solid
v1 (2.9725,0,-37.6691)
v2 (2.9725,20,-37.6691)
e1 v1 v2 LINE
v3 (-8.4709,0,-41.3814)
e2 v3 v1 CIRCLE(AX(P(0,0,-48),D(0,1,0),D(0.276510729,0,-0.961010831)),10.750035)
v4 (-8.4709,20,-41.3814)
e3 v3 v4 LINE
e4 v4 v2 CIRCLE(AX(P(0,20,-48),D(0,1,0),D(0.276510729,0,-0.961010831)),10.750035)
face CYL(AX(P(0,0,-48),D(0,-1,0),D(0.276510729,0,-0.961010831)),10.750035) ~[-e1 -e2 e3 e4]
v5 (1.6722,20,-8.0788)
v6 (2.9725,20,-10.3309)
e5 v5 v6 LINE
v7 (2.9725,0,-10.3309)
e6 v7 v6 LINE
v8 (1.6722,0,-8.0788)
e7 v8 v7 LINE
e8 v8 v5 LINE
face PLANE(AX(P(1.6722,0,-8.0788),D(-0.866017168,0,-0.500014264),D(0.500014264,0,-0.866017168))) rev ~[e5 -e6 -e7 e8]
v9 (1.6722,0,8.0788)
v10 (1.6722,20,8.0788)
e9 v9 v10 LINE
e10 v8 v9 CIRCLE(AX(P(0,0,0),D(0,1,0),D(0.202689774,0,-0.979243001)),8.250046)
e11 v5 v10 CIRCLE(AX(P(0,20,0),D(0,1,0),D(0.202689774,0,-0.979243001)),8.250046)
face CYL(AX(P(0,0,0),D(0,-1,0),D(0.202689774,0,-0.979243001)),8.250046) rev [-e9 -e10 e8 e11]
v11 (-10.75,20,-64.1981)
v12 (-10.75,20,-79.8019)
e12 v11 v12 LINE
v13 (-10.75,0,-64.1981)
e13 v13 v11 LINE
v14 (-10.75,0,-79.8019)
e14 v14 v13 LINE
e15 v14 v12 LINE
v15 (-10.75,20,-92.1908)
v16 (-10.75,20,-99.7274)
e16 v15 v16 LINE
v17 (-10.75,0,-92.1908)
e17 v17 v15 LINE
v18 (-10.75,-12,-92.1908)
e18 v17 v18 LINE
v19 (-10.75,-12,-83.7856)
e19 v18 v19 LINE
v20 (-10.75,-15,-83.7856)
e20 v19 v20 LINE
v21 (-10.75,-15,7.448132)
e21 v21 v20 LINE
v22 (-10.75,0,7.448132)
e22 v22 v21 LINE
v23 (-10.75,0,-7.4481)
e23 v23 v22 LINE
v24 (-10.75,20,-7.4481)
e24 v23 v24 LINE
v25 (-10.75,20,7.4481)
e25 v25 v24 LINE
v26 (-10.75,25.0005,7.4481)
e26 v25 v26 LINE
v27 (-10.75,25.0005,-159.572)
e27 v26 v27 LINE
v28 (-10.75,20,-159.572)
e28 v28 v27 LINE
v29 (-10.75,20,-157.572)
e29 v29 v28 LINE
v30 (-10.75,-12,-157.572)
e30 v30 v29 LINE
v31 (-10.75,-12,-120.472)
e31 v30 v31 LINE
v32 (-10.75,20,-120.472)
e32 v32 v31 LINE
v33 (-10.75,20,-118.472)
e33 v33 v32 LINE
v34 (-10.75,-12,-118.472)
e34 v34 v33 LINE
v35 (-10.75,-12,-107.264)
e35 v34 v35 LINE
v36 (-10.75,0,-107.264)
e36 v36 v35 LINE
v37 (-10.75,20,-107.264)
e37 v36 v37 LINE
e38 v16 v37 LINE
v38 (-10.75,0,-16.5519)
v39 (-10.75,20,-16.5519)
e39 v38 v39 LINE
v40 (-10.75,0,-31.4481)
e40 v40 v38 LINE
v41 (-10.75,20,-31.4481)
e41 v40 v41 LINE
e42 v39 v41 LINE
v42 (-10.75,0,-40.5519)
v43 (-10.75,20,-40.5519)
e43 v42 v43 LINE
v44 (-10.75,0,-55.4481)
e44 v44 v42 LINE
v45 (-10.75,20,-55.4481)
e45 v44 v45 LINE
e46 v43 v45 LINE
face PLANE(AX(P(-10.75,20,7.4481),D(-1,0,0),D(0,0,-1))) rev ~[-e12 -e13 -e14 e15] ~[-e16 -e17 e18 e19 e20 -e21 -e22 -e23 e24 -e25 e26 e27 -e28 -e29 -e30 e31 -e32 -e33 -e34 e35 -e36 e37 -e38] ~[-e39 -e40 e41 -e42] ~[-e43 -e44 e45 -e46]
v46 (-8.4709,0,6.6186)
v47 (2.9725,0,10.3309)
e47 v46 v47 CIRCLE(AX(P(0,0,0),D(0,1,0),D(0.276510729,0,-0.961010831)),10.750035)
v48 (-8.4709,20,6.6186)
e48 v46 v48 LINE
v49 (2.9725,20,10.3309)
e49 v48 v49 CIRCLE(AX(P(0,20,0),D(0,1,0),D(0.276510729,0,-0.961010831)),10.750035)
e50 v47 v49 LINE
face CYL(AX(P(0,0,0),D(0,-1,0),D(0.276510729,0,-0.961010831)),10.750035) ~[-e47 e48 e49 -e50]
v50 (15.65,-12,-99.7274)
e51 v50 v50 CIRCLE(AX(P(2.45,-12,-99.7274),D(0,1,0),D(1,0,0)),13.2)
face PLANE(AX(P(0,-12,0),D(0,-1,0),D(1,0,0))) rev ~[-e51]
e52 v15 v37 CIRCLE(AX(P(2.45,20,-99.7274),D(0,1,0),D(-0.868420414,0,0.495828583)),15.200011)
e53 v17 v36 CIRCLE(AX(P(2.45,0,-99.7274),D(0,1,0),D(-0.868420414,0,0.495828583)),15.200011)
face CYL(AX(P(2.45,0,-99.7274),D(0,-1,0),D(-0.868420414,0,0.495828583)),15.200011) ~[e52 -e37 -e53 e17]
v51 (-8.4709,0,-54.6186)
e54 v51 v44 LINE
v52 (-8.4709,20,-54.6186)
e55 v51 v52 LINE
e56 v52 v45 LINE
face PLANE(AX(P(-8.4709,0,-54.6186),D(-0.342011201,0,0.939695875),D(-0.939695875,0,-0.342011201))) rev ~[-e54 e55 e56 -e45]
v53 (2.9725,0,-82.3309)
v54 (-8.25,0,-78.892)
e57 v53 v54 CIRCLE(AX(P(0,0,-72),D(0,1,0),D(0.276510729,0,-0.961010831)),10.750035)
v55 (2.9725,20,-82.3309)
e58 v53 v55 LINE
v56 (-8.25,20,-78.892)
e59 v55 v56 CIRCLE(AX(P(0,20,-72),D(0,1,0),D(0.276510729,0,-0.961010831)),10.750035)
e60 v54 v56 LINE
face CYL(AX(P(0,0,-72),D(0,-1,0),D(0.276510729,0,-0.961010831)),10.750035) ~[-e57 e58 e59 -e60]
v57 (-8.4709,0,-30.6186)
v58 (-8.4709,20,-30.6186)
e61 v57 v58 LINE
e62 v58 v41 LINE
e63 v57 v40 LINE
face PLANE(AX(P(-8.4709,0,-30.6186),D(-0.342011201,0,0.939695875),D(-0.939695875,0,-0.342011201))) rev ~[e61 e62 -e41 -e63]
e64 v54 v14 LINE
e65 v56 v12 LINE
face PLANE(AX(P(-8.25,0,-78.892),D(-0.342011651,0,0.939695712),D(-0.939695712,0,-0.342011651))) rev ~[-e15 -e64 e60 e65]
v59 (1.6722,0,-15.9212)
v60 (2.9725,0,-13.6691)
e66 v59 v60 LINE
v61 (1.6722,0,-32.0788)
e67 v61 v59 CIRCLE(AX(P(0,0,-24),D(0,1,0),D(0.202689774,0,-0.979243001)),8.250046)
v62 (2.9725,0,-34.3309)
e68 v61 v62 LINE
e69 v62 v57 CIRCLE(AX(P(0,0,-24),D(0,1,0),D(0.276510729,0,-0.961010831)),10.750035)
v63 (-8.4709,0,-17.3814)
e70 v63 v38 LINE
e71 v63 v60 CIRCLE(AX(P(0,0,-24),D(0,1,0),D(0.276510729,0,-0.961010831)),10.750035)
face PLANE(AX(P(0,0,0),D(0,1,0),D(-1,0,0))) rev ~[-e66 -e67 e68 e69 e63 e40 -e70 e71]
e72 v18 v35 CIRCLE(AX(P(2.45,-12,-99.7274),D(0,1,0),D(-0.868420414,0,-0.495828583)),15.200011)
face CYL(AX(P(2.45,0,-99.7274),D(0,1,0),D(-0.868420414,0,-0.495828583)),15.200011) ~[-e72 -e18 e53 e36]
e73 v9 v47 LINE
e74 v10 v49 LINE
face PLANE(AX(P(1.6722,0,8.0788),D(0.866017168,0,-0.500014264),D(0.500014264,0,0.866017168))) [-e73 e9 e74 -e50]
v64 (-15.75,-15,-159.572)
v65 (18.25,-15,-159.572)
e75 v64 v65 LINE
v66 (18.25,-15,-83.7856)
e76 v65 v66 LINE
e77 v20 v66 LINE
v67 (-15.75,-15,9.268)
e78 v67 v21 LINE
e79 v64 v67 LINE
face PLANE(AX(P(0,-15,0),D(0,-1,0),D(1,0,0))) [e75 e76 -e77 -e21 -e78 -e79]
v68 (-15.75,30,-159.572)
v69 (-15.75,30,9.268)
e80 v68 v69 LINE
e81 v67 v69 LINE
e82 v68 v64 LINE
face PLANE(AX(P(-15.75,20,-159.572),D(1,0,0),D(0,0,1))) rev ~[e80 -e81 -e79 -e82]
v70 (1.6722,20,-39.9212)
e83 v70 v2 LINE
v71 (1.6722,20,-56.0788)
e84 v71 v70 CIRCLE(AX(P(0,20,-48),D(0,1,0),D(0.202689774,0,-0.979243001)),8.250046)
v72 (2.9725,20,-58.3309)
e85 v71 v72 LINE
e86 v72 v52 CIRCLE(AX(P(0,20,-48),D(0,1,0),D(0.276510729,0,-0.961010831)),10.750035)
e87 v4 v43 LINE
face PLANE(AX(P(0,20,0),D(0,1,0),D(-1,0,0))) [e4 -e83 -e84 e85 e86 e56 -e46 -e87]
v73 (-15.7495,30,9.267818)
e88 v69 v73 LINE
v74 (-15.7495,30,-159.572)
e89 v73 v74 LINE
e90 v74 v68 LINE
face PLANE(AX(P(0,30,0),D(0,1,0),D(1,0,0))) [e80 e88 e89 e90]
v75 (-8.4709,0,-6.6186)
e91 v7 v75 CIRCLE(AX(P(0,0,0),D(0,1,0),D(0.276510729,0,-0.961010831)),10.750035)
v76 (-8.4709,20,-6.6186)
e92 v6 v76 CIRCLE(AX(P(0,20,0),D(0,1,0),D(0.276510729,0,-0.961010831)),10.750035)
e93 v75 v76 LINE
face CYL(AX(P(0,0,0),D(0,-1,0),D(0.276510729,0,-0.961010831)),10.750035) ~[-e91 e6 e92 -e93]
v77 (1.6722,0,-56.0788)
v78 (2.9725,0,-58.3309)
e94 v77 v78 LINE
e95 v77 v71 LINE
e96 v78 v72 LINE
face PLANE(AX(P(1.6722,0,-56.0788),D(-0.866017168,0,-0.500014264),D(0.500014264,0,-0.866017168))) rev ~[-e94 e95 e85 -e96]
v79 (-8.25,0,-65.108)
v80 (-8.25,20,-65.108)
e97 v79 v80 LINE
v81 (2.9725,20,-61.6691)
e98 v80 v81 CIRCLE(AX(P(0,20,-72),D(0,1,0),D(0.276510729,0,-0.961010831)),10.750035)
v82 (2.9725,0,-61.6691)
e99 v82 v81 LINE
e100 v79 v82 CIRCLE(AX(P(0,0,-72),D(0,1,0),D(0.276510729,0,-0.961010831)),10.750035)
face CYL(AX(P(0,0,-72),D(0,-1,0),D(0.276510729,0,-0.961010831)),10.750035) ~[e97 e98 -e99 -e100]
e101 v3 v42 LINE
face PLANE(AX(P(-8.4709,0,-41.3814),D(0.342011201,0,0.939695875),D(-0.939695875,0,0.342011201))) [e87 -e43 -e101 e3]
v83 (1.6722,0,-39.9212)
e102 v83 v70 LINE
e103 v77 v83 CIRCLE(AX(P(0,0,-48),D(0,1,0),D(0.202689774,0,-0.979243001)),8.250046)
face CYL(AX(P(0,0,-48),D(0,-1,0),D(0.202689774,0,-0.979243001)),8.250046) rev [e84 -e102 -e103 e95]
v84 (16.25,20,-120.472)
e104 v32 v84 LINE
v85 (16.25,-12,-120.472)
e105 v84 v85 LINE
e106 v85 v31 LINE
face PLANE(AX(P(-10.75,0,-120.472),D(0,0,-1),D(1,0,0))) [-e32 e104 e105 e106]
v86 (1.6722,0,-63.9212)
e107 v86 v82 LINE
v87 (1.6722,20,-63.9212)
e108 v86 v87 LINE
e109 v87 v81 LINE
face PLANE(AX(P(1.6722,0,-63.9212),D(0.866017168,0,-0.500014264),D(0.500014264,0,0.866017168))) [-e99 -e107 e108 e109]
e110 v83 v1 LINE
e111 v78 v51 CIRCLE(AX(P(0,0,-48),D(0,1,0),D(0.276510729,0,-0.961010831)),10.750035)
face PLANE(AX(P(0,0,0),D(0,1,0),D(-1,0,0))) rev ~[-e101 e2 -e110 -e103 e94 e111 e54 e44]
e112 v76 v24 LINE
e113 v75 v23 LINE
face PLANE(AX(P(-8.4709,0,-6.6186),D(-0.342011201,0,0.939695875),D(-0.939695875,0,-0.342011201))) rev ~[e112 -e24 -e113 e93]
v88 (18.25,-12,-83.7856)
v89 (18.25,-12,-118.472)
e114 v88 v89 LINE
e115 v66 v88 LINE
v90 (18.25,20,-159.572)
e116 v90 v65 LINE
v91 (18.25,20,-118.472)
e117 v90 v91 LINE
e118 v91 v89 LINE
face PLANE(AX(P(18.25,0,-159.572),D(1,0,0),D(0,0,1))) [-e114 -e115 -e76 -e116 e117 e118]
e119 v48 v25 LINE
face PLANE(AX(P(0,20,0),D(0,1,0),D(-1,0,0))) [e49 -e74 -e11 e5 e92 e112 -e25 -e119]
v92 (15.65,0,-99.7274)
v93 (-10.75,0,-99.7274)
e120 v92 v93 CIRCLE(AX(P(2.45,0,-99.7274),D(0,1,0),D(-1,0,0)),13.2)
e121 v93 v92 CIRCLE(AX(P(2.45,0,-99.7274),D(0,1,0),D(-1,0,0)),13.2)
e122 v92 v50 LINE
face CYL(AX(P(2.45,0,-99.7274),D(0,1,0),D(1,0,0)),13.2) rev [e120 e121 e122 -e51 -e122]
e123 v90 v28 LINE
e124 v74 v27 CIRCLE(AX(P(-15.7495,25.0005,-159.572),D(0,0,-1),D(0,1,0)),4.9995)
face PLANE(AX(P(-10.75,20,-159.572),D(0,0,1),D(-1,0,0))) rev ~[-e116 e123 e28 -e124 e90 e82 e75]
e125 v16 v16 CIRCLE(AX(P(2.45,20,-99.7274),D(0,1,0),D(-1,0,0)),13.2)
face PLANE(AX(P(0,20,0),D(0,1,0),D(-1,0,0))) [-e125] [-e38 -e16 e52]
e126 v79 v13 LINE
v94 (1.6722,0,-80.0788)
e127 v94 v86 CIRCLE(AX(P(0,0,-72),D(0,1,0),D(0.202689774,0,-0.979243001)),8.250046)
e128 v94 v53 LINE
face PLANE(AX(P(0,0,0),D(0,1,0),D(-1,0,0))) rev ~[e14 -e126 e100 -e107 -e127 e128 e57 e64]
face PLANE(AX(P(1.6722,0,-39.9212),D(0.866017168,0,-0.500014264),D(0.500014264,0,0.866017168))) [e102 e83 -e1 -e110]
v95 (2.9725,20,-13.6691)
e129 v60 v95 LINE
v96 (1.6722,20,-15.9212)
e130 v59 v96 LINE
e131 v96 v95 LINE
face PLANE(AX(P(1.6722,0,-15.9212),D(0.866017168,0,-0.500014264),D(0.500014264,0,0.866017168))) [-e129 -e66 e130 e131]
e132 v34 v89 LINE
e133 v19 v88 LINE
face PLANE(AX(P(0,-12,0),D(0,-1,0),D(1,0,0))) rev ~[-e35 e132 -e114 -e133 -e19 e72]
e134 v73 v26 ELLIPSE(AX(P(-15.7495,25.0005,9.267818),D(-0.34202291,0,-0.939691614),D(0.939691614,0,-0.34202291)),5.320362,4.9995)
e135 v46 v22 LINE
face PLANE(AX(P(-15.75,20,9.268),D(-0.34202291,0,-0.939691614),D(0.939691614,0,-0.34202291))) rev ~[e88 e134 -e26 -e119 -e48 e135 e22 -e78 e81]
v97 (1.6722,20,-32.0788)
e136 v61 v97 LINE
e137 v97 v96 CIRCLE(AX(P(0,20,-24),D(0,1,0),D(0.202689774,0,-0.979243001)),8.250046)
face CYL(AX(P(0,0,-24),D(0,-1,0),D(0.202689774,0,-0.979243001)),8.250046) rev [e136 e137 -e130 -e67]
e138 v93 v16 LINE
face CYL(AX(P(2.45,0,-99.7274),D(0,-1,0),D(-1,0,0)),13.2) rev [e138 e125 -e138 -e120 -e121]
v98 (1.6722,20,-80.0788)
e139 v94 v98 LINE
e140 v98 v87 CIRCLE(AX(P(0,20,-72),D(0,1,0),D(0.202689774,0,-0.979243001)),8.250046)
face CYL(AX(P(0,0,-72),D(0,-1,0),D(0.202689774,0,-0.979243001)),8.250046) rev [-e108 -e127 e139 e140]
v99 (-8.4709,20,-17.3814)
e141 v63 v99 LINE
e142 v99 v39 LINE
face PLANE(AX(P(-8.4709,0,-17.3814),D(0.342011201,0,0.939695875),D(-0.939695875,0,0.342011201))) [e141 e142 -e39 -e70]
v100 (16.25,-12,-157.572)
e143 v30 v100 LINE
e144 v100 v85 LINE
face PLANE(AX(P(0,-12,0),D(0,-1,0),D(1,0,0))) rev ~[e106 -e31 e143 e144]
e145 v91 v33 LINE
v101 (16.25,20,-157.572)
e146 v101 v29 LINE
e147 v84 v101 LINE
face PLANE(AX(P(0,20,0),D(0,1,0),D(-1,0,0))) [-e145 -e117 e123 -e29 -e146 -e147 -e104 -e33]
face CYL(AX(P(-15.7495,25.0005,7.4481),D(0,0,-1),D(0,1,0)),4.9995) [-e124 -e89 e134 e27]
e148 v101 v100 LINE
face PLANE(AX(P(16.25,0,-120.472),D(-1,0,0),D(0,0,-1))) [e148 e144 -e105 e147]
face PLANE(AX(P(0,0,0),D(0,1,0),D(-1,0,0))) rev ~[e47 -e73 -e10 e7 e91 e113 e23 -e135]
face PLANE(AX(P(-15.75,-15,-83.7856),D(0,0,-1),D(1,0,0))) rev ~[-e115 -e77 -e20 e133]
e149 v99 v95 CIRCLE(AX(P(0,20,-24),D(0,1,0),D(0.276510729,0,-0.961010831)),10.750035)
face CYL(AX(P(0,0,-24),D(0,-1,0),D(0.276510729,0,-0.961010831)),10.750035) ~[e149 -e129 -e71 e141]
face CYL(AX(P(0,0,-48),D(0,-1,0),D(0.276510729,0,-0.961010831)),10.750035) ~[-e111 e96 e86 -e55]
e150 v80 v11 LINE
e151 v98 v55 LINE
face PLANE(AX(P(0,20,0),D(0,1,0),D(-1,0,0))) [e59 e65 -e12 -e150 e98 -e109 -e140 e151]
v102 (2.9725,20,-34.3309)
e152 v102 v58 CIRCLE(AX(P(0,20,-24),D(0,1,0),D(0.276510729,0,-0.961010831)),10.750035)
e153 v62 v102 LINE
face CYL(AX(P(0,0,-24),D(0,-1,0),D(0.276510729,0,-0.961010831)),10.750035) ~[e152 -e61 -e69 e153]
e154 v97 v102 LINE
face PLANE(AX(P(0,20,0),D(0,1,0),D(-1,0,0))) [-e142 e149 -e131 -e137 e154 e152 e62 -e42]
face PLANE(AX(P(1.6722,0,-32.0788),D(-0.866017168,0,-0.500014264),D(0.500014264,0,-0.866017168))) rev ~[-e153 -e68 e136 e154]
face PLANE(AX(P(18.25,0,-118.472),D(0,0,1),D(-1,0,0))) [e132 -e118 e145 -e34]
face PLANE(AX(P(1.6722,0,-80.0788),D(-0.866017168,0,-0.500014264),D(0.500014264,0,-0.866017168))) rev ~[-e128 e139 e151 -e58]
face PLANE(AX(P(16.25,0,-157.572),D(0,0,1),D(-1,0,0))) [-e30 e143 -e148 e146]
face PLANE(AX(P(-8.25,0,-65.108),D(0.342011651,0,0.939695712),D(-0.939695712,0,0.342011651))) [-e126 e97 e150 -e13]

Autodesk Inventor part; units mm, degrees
ref_plane "YZ Plane" through (0, 0, 0) normal (1, 0, 0) x (0, 1, 0)
ref_plane "XZ Plane" through (0, 0, 0) normal (0, 1, 0) x (-1, 0, 0)
ref_plane "XY Plane" through (0, 0, 0) normal (0, 0, 1) x (1, 0, 0)
sketch "Sketch1" plane through (0, 0, 0) normal (0, 1, 0) x (-1, 0, 0)
  arc A0 (-1.6722, -8.0788) -> (-1.6722, 8.0788) centre (0, 0) ccw
  arc A1 (-2.9725, -10.3309) -> (-2.9725, 10.3309) centre (0, 0) ccw
  line L0 (-1.6722, 8.0788) -> (-2.9725, 10.3309)
  line L1 (-1.6722, 8.0788) -> (0.9283, 8.0788) construction
  line L2 (-1.6722, -8.0788) -> (-2.9725, -10.3309)
  line L3 (0, 0) -> (0, -2.9706)
  arc A2 (-1.6722, -32.0788) -> (-1.6722, -15.9212) centre (0, -24) ccw
  arc A3 (-2.9725, -34.3309) -> (-2.9725, -13.6691) centre (0, -24) ccw
  line L4 (-1.6722, -15.9212) -> (-2.9725, -13.6691)
  line L5 (-1.6722, -15.9212) -> (0.9283, -15.9212) construction
  line L6 (-1.6722, -32.0788) -> (-2.9725, -34.3309)
  line L7 (0, -24) -> (0, -26.9706)
  arc A4 (-1.6722, -56.0788) -> (-1.6722, -39.9212) centre (0, -48) ccw
  arc A5 (-2.9725, -58.3309) -> (-2.9725, -37.6691) centre (0, -48) ccw
  line L8 (-1.6722, -39.9212) -> (-2.9725, -37.6691)
  line L9 (-1.6722, -39.9212) -> (0.9283, -39.9212) construction
  line L10 (-1.6722, -56.0788) -> (-2.9725, -58.3309)
  line L11 (0, -48) -> (0, -50.9706)
  arc A6 (-1.6722, -80.0788) -> (-1.6722, -63.9212) centre (0, -72) ccw
  arc A7 (-2.9725, -82.3309) -> (-2.9725, -61.6691) centre (0, -72) ccw
  line L12 (-1.6722, -63.9212) -> (-2.9725, -61.6691)
  line L13 (-1.6722, -63.9212) -> (0.9283, -63.9212) construction
  line L14 (-1.6722, -80.0788) -> (-2.9725, -82.3309)
  line L15 (0, -72) -> (0, -74.9706)
  line L16 (10.75, -99.7274) -> (-2.45, -99.7274) construction
  circle A8 centre (-2.45, -99.7274) radius 13.2 construction
  arc A9 (10.75, -92.1908) -> (10.75, -107.264) centre (-2.45, -99.7274) ccw construction
  circle A10 centre (-2.45, -99.7274) radius 13.2
  arc A11 (10.75, -92.1908) -> (10.75, -107.264) centre (-2.45, -99.7274) ccw
  line L17 (10.75, -120.472) -> (-16.25, -120.472)
  line L18 (-16.25, -120.472) -> (-16.25, -157.572)
  line L19 (-16.25, -157.572) -> (10.75, -157.572)
  line L20 (10.75, -157.572) -> (10.75, -120.472)
  line L21 (-18.25, -159.572) -> (-18.25, -118.472)
  line L22 (-18.25, -118.472) -> (10.75, -118.472)
  line L23 (12.75, -159.572) -> (-18.25, -159.572)
  line L24 (10.75, 0) -> (15.75, 0) construction
  line L25 (8.4709, 6.6186) -> (15.75, 9.268) construction
  line L26 (15.75, 9.268) -> (15.75, -159.572) construction
  line L27 (15.75, -159.572) -> (12.75, -159.572) construction
  line L28 (10.75, -118.472) -> (10.75, -107.264) construction
  line L29 (10.75, -118.472) -> (10.75, -107.264)
  line L30 (10.75, -92.1908) -> (10.75, -79.8019)
  line L31 (8.4709, 6.6186) -> (15.75, 9.268)
  line L32 (15.75, 9.268) -> (15.75, -159.572)
  line L33 (15.75, -159.572) -> (12.75, -159.572)
  line L34 (10.75, -107.264) -> (10.75, -118.472) construction
  line L35 (10.75, -120.472) -> (10.75, -154.7804) construction
  line L36 (8.4709, -6.6186) -> (10.75, -7.4481)
  line L37 (8.4709, -6.6186) -> (10.8963, -6.6186) construction
  line L38 (8.4709, -17.3814) -> (10.75, -16.5519)
  line L39 (8.4709, -30.6186) -> (10.75, -31.4481)
  line L40 (8.4709, -41.3814) -> (10.75, -40.5519)
  line L41 (8.4709, -54.6186) -> (10.75, -55.4481)
  line L42 (8.25, -65.108) -> (10.75, -64.1981)
  line L43 (8.25, -78.892) -> (10.75, -79.8019)
  line L44 (10.75, -16.5519) -> (10.75, -7.4481)
  line L45 (10.75, -7.4481) -> (10.75, -16.5519) construction
  line L46 (10.75, -64.1981) -> (10.75, -55.4481)
  line L47 (10.75, -40.5519) -> (10.75, -31.4481)
  line L48 (10.75, -31.4481) -> (10.75, -40.5519) construction
  line L49 (10.75, -55.4481) -> (10.75, -64.1981) construction
  line L50 (10.75, -79.8019) -> (10.75, -92.1908) construction
  dimension "d1" = 2.5
  dimension "d5" = 24
  dimension "d19" = 20
extrude "Extrusion1" add sketch "Sketch1" along normal blind 20
sketch "Sketch2" plane through (0, 20, 0) normal (0, 1, 0) x (1, 0, 0)
  arc A0 (-10.75, 92.1908) -> (-10.75, 107.264) centre (2.45, 99.7274) ccw construction
  line L0 (-10.75, 107.264) -> (-10.75, 118.472) construction
  line L1 (-10.75, 118.472) -> (18.25, 118.472) construction
  line L2 (18.25, 118.472) -> (18.25, 159.572) construction
  line L3 (18.25, 159.572) -> (-15.75, 159.572) construction
  line L4 (-15.75, 159.572) -> (-15.75, -9.268) construction
  line L5 (-15.75, -9.268) -> (-8.4709, -6.6186) construction
  arc A1 (-8.4709, -6.6186) -> (2.9725, -10.3309) centre (0, 0) ccw construction
  line L6 (2.9725, -10.3309) -> (1.6722, -8.0788) construction
  arc A2 (1.6722, 8.0788) -> (1.6722, -8.0788) centre (0, 0) ccw construction
  line L7 (1.6722, 8.0788) -> (2.9725, 10.3309) construction
  arc A3 (2.9725, 10.3309) -> (-8.4709, 6.6186) centre (0, 0) ccw construction
  line L8 (-8.4709, 6.6186) -> (-10.75, 7.4481) construction
  line L9 (-10.75, 7.4481) -> (-10.75, 16.5519) construction
  line L10 (-10.75, 16.5519) -> (-8.4709, 17.3814) construction
  arc A4 (-8.4709, 17.3814) -> (2.9725, 13.6691) centre (0, 24) ccw construction
  line L11 (2.9725, 13.6691) -> (1.6722, 15.9212) construction
  arc A5 (1.6722, 32.0788) -> (1.6722, 15.9212) centre (0, 24) ccw construction
  line L12 (1.6722, 32.0788) -> (2.9725, 34.3309) construction
  arc A6 (2.9725, 34.3309) -> (-8.4709, 30.6186) centre (0, 24) ccw construction
  line L13 (-8.4709, 30.6186) -> (-10.75, 31.4481) construction
  line L14 (-10.75, 31.4481) -> (-10.75, 40.5519) construction
  line L15 (-10.75, 40.5519) -> (-8.4709, 41.3814) construction
  arc A7 (-8.4709, 41.3814) -> (2.9725, 37.6691) centre (0, 48) ccw construction
  line L16 (2.9725, 37.6691) -> (1.6722, 39.9212) construction
  arc A8 (1.6722, 56.0788) -> (1.6722, 39.9212) centre (0, 48) ccw construction
  line L17 (1.6722, 56.0788) -> (2.9725, 58.3309) construction
  arc A9 (2.9725, 58.3309) -> (-8.4709, 54.6186) centre (0, 48) ccw construction
  line L18 (-8.4709, 54.6186) -> (-10.75, 55.4481) construction
  line L19 (-10.75, 55.4481) -> (-10.75, 64.1981) construction
  line L20 (-10.75, 64.1981) -> (-8.25, 65.108) construction
  arc A10 (-8.25, 65.108) -> (2.9725, 61.6691) centre (0, 72) ccw construction
  line L21 (2.9725, 61.6691) -> (1.6722, 63.9212) construction
  arc A11 (1.6722, 80.0788) -> (1.6722, 63.9212) centre (0, 72) ccw construction
  line L22 (1.6722, 80.0788) -> (2.9725, 82.3309) construction
  arc A12 (2.9725, 82.3309) -> (-8.25, 78.892) centre (0, 72) ccw construction
  line L23 (-8.25, 78.892) -> (-10.75, 79.8019) construction
  line L24 (-10.75, 79.8019) -> (-10.75, 92.1908) construction
  line L25 (-10.75, 120.472) -> (-10.75, 157.572) construction
  line L26 (-10.75, 157.572) -> (16.25, 157.572) construction
  line L27 (16.25, 157.572) -> (16.25, 120.472) construction
  line L28 (16.25, 120.472) -> (-10.75, 120.472) construction
  circle A13 centre (2.45, 99.7274) radius 13.2 construction
  line L29 (-15.75, -9.268) -> (-10.75, -9.268)
  line L30 (-10.75, -9.268) -> (-10.75, 159.572)
  line L31 (-10.75, 159.572) -> (-15.75, 159.572)
  line L32 (-15.75, 159.572) -> (-15.75, -9.268)
  line L33 (-15.75, -9.268) -> (-8.4709, -6.6186) projected
  line L34 (-10.75, -7.4481) -> (-15.75, -9.268)
extrude "Extrusion2" add sketch "Sketch2" along normal blind 10 contours L32 L31 L30 L33
sketch "Sketch3" plane through (0, 0, 0) normal (0, -1, 0) x (1, 0, 0)
  arc A0 (-10.75, -107.264) -> (-10.75, -92.1908) centre (2.45, -99.7274) ccw projected
  line L0 (-10.75, -79.8019) -> (-10.75, -92.1908) projected
  line L1 (-8.25, -78.892) -> (-10.75, -79.8019) projected
  arc A1 (-8.25, -78.892) -> (2.9725, -82.3309) centre (0, -72) ccw projected
  line L2 (1.6722, -80.0788) -> (2.9725, -82.3309) projected
  arc A2 (1.6722, -63.9212) -> (1.6722, -80.0788) centre (0, -72) ccw projected
  line L3 (2.9725, -61.6691) -> (1.6722, -63.9212) projected
  arc A3 (2.9725, -61.6691) -> (-8.25, -65.108) centre (0, -72) ccw projected
  line L4 (-10.75, -64.1981) -> (-8.25, -65.108) projected
  line L5 (-10.75, -55.4481) -> (-10.75, -64.1981) projected
  line L6 (-8.4709, -54.6186) -> (-10.75, -55.4481) projected
  arc A4 (-8.4709, -54.6186) -> (2.9725, -58.3309) centre (0, -48) ccw projected
  line L7 (1.6722, -56.0788) -> (2.9725, -58.3309) projected
  arc A5 (1.6722, -39.9212) -> (1.6722, -56.0788) centre (0, -48) ccw projected
  line L8 (2.9725, -37.6691) -> (1.6722, -39.9212) projected
  arc A6 (2.9725, -37.6691) -> (-8.4709, -41.3814) centre (0, -48) ccw projected
  line L9 (-10.75, -40.5519) -> (-8.4709, -41.3814) projected
  line L10 (-10.75, -31.4481) -> (-10.75, -40.5519) projected
  line L11 (-8.4709, -30.6186) -> (-10.75, -31.4481) projected
  arc A7 (-8.4709, -30.6186) -> (2.9725, -34.3309) centre (0, -24) ccw projected
  line L12 (1.6722, -32.0788) -> (2.9725, -34.3309) projected
  arc A8 (1.6722, -15.9212) -> (1.6722, -32.0788) centre (0, -24) ccw projected
  line L13 (2.9725, -13.6691) -> (1.6722, -15.9212) projected
  arc A9 (2.9725, -13.6691) -> (-8.4709, -17.3814) centre (0, -24) ccw projected
  line L14 (-10.75, -16.5519) -> (-8.4709, -17.3814) projected
  line L15 (-10.75, -7.4481) -> (-10.75, -16.5519) projected
  line L16 (-8.4709, -6.6186) -> (-10.75, -7.4481) projected
  arc A10 (-8.4709, -6.6186) -> (2.9725, -10.3309) centre (0, 0) ccw projected
  line L17 (1.6722, -8.0788) -> (2.9725, -10.3309) projected
  arc A11 (1.6722, 8.0788) -> (1.6722, -8.0788) centre (0, 0) ccw projected
  line L18 (2.9725, 10.3309) -> (1.6722, 8.0788) projected
  arc A12 (2.9725, 10.3309) -> (-8.4709, 6.6186) centre (0, 0) ccw projected
  line L19 (-15.75, 9.268) -> (-8.4709, 6.6186) projected
  line L20 (-15.75, -159.572) -> (-15.75, 9.268) projected
  line L21 (18.25, -159.572) -> (-15.75, -159.572) projected
  line L22 (18.25, -118.472) -> (18.25, -159.572) projected
  line L23 (-10.75, -118.472) -> (18.25, -118.472) projected
  line L24 (-10.75, -107.264) -> (-10.75, -118.472) projected
  line L25 (-10.75, -120.472) -> (-10.75, -157.572) projected
  line L26 (16.25, -120.472) -> (-10.75, -120.472) projected
  line L27 (16.25, -157.572) -> (16.25, -120.472) projected
  line L28 (-10.75, -157.572) -> (16.25, -157.572) projected
  circle A13 centre (2.45, -99.7274) radius 13.2 projected
  line L29 (2.45, -84.5274) -> (-15.75, -84.5274)
  arc A14 (-10.75, -107.264) -> (-10.75, -92.1908) centre (2.45, -99.7274) ccw projected
  line L30 (-15.75, -84.5274) -> (-10.75, -84.5274)
  line L31 (-10.75, -84.5274) -> (-10.75, -159.572)
  line L32 (-10.75, -159.572) -> (-15.75, -159.572)
  line L33 (-15.75, -159.572) -> (-15.75, -84.5274)
  line L34 (-15.75, -84.5274) -> (-10.75, -84.5274)
  line L35 (-10.75, -84.5274) -> (-10.75, -7.4481)
  line L36 (-10.75, -7.4481) -> (-15.75, -7.4481)
  line L37 (-15.75, -7.4481) -> (-15.75, -84.5274)
  line L38 (-15.75, -159.572) -> (-15.75, 9.268) projected
  line L39 (-10.75, -7.4481) -> (-15.75, -7.4481)
  line L40 (-15.75, -7.4481) -> (-15.75, 9.268)
  line L41 (-15.75, 9.268) -> (-10.75, 9.268)
  line L42 (-10.75, 9.268) -> (-10.75, -7.4481)
  point P0 (-10.75, 7.4481)
extrude "Extrusion3" add sketch "Sketch3" along normal blind 15 contours L31 A0 | L24 L31 L25 L21 L20 L29 L0 | L23 L22 L21 L31 L28 L27 L26 | L29 L20 L36 L15 L35 L10 L5 L0 | L20 L19 L42 L36
sketch "Sketch4" plane through (0, -15, 0) normal (0, -1, 0) x (1, 0, 0)
  line L0 (-10.75, 7.4481) -> (-15.75, 9.268) construction
  line L1 (-15.75, 9.268) -> (-15.75, -159.572) construction
  line L2 (-15.75, -159.572) -> (18.25, -159.572) construction
  line L3 (18.25, -159.572) -> (18.25, -118.472) construction
  line L4 (18.25, -118.472) -> (-10.75, -118.472) construction
  line L5 (-10.75, -118.472) -> (-10.75, -107.264) construction
  arc A0 (-10.75, -107.264) -> (-10.75, -92.1908) centre (2.45, -99.7274) ccw construction
  line L6 (-10.75, -92.1908) -> (-10.75, 7.4481) construction
  circle A1 centre (2.45, -99.7274) radius 13.2 construction
  line L7 (-10.75, -157.572) -> (-10.75, -120.472) construction
  line L8 (-10.75, -120.472) -> (16.25, -120.472) construction
  line L9 (16.25, -120.472) -> (16.25, -157.572) construction
  line L10 (16.25, -157.572) -> (-10.75, -157.572) construction
  line L11 (-10.75, 7.4481) -> (-10.75, -7.4481) construction
  line L12 (-8.4709, -6.6186) -> (-10.75, -7.4481) construction
  arc A2 (-8.4709, -6.6186) -> (2.9725, -10.3309) centre (0, 0) ccw construction
  line L13 (1.6722, -8.0788) -> (2.9725, -10.3309) construction
  arc A3 (1.6722, 8.0788) -> (1.6722, -8.0788) centre (0, 0) ccw construction
  line L14 (2.9725, 10.3309) -> (1.6722, 8.0788) construction
  arc A4 (2.9725, 10.3309) -> (-8.4709, 6.6186) centre (0, 0) ccw construction
  line L15 (-10.75, 7.4481) -> (-8.4709, 6.6186) construction
  line L16 (-10.75, -16.5519) -> (-10.75, -31.4481) construction
  line L17 (-8.4709, -30.6186) -> (-10.75, -31.4481) construction
  arc A5 (-8.4709, -30.6186) -> (2.9725, -34.3309) centre (0, -24) ccw construction
  line L18 (1.6722, -32.0788) -> (2.9725, -34.3309) construction
  arc A6 (1.6722, -15.9212) -> (1.6722, -32.0788) centre (0, -24) ccw construction
  line L19 (2.9725, -13.6691) -> (1.6722, -15.9212) construction
  arc A7 (2.9725, -13.6691) -> (-8.4709, -17.3814) centre (0, -24) ccw construction
  line L20 (-10.75, -16.5519) -> (-8.4709, -17.3814) construction
  line L21 (-10.75, -40.5519) -> (-10.75, -55.4481) construction
  line L22 (-8.4709, -54.6186) -> (-10.75, -55.4481) construction
  arc A8 (-8.4709, -54.6186) -> (2.9725, -58.3309) centre (0, -48) ccw construction
  line L23 (1.6722, -56.0788) -> (2.9725, -58.3309) construction
  arc A9 (1.6722, -39.9212) -> (1.6722, -56.0788) centre (0, -48) ccw construction
  line L24 (2.9725, -37.6691) -> (1.6722, -39.9212) construction
  arc A10 (2.9725, -37.6691) -> (-8.4709, -41.3814) centre (0, -48) ccw construction
  line L25 (-10.75, -40.5519) -> (-8.4709, -41.3814) construction
  arc A11 (1.6722, -63.9212) -> (1.6722, -80.0788) centre (0, -72) ccw construction
  line L26 (-10.75, -64.1981) -> (-10.75, -79.8019) construction
  line L27 (-8.25, -78.892) -> (-10.75, -79.8019) construction
  arc A12 (-8.25, -78.892) -> (2.9725, -82.3309) centre (0, -72) ccw construction
  line L28 (1.6722, -80.0788) -> (2.9725, -82.3309) construction
  arc A13 (1.6722, -63.9212) -> (1.6722, -80.0788) centre (0, -72) ccw construction
  line L29 (2.9725, -61.6691) -> (1.6722, -63.9212) construction
  arc A14 (2.9725, -61.6691) -> (-8.25, -65.108) centre (0, -72) ccw construction
  line L30 (-10.75, -64.1981) -> (-8.25, -65.108) construction
  line L31 (-15.75, 9.268) -> (18.25, 9.268)
  line L32 (18.25, 9.268) -> (18.25, -159.572)
  line L33 (-15.75, -159.572) -> (18.25, -159.572)
  line L34 (-15.75, -159.572) -> (-15.75, 9.268)
  circle A15 centre (0, 0) radius 8.25
  circle A16 centre (0, -24) radius 8.25
  circle A17 centre (0, -48) radius 8.25
  circle A18 centre (0, -72) radius 8.25
  line L35 (-15.75, -83.7856) -> (18.25, -83.7856)
  point P0 (2.45, -84.5274)
extrude "Extrusion4" add sketch "Sketch4" against normal blind 3 contours L35 L32 L33 L34
fillet "Fillet1" radius 5 1 edges at (-10.75, 30, -76.0619)
properties part number "Block-1"
